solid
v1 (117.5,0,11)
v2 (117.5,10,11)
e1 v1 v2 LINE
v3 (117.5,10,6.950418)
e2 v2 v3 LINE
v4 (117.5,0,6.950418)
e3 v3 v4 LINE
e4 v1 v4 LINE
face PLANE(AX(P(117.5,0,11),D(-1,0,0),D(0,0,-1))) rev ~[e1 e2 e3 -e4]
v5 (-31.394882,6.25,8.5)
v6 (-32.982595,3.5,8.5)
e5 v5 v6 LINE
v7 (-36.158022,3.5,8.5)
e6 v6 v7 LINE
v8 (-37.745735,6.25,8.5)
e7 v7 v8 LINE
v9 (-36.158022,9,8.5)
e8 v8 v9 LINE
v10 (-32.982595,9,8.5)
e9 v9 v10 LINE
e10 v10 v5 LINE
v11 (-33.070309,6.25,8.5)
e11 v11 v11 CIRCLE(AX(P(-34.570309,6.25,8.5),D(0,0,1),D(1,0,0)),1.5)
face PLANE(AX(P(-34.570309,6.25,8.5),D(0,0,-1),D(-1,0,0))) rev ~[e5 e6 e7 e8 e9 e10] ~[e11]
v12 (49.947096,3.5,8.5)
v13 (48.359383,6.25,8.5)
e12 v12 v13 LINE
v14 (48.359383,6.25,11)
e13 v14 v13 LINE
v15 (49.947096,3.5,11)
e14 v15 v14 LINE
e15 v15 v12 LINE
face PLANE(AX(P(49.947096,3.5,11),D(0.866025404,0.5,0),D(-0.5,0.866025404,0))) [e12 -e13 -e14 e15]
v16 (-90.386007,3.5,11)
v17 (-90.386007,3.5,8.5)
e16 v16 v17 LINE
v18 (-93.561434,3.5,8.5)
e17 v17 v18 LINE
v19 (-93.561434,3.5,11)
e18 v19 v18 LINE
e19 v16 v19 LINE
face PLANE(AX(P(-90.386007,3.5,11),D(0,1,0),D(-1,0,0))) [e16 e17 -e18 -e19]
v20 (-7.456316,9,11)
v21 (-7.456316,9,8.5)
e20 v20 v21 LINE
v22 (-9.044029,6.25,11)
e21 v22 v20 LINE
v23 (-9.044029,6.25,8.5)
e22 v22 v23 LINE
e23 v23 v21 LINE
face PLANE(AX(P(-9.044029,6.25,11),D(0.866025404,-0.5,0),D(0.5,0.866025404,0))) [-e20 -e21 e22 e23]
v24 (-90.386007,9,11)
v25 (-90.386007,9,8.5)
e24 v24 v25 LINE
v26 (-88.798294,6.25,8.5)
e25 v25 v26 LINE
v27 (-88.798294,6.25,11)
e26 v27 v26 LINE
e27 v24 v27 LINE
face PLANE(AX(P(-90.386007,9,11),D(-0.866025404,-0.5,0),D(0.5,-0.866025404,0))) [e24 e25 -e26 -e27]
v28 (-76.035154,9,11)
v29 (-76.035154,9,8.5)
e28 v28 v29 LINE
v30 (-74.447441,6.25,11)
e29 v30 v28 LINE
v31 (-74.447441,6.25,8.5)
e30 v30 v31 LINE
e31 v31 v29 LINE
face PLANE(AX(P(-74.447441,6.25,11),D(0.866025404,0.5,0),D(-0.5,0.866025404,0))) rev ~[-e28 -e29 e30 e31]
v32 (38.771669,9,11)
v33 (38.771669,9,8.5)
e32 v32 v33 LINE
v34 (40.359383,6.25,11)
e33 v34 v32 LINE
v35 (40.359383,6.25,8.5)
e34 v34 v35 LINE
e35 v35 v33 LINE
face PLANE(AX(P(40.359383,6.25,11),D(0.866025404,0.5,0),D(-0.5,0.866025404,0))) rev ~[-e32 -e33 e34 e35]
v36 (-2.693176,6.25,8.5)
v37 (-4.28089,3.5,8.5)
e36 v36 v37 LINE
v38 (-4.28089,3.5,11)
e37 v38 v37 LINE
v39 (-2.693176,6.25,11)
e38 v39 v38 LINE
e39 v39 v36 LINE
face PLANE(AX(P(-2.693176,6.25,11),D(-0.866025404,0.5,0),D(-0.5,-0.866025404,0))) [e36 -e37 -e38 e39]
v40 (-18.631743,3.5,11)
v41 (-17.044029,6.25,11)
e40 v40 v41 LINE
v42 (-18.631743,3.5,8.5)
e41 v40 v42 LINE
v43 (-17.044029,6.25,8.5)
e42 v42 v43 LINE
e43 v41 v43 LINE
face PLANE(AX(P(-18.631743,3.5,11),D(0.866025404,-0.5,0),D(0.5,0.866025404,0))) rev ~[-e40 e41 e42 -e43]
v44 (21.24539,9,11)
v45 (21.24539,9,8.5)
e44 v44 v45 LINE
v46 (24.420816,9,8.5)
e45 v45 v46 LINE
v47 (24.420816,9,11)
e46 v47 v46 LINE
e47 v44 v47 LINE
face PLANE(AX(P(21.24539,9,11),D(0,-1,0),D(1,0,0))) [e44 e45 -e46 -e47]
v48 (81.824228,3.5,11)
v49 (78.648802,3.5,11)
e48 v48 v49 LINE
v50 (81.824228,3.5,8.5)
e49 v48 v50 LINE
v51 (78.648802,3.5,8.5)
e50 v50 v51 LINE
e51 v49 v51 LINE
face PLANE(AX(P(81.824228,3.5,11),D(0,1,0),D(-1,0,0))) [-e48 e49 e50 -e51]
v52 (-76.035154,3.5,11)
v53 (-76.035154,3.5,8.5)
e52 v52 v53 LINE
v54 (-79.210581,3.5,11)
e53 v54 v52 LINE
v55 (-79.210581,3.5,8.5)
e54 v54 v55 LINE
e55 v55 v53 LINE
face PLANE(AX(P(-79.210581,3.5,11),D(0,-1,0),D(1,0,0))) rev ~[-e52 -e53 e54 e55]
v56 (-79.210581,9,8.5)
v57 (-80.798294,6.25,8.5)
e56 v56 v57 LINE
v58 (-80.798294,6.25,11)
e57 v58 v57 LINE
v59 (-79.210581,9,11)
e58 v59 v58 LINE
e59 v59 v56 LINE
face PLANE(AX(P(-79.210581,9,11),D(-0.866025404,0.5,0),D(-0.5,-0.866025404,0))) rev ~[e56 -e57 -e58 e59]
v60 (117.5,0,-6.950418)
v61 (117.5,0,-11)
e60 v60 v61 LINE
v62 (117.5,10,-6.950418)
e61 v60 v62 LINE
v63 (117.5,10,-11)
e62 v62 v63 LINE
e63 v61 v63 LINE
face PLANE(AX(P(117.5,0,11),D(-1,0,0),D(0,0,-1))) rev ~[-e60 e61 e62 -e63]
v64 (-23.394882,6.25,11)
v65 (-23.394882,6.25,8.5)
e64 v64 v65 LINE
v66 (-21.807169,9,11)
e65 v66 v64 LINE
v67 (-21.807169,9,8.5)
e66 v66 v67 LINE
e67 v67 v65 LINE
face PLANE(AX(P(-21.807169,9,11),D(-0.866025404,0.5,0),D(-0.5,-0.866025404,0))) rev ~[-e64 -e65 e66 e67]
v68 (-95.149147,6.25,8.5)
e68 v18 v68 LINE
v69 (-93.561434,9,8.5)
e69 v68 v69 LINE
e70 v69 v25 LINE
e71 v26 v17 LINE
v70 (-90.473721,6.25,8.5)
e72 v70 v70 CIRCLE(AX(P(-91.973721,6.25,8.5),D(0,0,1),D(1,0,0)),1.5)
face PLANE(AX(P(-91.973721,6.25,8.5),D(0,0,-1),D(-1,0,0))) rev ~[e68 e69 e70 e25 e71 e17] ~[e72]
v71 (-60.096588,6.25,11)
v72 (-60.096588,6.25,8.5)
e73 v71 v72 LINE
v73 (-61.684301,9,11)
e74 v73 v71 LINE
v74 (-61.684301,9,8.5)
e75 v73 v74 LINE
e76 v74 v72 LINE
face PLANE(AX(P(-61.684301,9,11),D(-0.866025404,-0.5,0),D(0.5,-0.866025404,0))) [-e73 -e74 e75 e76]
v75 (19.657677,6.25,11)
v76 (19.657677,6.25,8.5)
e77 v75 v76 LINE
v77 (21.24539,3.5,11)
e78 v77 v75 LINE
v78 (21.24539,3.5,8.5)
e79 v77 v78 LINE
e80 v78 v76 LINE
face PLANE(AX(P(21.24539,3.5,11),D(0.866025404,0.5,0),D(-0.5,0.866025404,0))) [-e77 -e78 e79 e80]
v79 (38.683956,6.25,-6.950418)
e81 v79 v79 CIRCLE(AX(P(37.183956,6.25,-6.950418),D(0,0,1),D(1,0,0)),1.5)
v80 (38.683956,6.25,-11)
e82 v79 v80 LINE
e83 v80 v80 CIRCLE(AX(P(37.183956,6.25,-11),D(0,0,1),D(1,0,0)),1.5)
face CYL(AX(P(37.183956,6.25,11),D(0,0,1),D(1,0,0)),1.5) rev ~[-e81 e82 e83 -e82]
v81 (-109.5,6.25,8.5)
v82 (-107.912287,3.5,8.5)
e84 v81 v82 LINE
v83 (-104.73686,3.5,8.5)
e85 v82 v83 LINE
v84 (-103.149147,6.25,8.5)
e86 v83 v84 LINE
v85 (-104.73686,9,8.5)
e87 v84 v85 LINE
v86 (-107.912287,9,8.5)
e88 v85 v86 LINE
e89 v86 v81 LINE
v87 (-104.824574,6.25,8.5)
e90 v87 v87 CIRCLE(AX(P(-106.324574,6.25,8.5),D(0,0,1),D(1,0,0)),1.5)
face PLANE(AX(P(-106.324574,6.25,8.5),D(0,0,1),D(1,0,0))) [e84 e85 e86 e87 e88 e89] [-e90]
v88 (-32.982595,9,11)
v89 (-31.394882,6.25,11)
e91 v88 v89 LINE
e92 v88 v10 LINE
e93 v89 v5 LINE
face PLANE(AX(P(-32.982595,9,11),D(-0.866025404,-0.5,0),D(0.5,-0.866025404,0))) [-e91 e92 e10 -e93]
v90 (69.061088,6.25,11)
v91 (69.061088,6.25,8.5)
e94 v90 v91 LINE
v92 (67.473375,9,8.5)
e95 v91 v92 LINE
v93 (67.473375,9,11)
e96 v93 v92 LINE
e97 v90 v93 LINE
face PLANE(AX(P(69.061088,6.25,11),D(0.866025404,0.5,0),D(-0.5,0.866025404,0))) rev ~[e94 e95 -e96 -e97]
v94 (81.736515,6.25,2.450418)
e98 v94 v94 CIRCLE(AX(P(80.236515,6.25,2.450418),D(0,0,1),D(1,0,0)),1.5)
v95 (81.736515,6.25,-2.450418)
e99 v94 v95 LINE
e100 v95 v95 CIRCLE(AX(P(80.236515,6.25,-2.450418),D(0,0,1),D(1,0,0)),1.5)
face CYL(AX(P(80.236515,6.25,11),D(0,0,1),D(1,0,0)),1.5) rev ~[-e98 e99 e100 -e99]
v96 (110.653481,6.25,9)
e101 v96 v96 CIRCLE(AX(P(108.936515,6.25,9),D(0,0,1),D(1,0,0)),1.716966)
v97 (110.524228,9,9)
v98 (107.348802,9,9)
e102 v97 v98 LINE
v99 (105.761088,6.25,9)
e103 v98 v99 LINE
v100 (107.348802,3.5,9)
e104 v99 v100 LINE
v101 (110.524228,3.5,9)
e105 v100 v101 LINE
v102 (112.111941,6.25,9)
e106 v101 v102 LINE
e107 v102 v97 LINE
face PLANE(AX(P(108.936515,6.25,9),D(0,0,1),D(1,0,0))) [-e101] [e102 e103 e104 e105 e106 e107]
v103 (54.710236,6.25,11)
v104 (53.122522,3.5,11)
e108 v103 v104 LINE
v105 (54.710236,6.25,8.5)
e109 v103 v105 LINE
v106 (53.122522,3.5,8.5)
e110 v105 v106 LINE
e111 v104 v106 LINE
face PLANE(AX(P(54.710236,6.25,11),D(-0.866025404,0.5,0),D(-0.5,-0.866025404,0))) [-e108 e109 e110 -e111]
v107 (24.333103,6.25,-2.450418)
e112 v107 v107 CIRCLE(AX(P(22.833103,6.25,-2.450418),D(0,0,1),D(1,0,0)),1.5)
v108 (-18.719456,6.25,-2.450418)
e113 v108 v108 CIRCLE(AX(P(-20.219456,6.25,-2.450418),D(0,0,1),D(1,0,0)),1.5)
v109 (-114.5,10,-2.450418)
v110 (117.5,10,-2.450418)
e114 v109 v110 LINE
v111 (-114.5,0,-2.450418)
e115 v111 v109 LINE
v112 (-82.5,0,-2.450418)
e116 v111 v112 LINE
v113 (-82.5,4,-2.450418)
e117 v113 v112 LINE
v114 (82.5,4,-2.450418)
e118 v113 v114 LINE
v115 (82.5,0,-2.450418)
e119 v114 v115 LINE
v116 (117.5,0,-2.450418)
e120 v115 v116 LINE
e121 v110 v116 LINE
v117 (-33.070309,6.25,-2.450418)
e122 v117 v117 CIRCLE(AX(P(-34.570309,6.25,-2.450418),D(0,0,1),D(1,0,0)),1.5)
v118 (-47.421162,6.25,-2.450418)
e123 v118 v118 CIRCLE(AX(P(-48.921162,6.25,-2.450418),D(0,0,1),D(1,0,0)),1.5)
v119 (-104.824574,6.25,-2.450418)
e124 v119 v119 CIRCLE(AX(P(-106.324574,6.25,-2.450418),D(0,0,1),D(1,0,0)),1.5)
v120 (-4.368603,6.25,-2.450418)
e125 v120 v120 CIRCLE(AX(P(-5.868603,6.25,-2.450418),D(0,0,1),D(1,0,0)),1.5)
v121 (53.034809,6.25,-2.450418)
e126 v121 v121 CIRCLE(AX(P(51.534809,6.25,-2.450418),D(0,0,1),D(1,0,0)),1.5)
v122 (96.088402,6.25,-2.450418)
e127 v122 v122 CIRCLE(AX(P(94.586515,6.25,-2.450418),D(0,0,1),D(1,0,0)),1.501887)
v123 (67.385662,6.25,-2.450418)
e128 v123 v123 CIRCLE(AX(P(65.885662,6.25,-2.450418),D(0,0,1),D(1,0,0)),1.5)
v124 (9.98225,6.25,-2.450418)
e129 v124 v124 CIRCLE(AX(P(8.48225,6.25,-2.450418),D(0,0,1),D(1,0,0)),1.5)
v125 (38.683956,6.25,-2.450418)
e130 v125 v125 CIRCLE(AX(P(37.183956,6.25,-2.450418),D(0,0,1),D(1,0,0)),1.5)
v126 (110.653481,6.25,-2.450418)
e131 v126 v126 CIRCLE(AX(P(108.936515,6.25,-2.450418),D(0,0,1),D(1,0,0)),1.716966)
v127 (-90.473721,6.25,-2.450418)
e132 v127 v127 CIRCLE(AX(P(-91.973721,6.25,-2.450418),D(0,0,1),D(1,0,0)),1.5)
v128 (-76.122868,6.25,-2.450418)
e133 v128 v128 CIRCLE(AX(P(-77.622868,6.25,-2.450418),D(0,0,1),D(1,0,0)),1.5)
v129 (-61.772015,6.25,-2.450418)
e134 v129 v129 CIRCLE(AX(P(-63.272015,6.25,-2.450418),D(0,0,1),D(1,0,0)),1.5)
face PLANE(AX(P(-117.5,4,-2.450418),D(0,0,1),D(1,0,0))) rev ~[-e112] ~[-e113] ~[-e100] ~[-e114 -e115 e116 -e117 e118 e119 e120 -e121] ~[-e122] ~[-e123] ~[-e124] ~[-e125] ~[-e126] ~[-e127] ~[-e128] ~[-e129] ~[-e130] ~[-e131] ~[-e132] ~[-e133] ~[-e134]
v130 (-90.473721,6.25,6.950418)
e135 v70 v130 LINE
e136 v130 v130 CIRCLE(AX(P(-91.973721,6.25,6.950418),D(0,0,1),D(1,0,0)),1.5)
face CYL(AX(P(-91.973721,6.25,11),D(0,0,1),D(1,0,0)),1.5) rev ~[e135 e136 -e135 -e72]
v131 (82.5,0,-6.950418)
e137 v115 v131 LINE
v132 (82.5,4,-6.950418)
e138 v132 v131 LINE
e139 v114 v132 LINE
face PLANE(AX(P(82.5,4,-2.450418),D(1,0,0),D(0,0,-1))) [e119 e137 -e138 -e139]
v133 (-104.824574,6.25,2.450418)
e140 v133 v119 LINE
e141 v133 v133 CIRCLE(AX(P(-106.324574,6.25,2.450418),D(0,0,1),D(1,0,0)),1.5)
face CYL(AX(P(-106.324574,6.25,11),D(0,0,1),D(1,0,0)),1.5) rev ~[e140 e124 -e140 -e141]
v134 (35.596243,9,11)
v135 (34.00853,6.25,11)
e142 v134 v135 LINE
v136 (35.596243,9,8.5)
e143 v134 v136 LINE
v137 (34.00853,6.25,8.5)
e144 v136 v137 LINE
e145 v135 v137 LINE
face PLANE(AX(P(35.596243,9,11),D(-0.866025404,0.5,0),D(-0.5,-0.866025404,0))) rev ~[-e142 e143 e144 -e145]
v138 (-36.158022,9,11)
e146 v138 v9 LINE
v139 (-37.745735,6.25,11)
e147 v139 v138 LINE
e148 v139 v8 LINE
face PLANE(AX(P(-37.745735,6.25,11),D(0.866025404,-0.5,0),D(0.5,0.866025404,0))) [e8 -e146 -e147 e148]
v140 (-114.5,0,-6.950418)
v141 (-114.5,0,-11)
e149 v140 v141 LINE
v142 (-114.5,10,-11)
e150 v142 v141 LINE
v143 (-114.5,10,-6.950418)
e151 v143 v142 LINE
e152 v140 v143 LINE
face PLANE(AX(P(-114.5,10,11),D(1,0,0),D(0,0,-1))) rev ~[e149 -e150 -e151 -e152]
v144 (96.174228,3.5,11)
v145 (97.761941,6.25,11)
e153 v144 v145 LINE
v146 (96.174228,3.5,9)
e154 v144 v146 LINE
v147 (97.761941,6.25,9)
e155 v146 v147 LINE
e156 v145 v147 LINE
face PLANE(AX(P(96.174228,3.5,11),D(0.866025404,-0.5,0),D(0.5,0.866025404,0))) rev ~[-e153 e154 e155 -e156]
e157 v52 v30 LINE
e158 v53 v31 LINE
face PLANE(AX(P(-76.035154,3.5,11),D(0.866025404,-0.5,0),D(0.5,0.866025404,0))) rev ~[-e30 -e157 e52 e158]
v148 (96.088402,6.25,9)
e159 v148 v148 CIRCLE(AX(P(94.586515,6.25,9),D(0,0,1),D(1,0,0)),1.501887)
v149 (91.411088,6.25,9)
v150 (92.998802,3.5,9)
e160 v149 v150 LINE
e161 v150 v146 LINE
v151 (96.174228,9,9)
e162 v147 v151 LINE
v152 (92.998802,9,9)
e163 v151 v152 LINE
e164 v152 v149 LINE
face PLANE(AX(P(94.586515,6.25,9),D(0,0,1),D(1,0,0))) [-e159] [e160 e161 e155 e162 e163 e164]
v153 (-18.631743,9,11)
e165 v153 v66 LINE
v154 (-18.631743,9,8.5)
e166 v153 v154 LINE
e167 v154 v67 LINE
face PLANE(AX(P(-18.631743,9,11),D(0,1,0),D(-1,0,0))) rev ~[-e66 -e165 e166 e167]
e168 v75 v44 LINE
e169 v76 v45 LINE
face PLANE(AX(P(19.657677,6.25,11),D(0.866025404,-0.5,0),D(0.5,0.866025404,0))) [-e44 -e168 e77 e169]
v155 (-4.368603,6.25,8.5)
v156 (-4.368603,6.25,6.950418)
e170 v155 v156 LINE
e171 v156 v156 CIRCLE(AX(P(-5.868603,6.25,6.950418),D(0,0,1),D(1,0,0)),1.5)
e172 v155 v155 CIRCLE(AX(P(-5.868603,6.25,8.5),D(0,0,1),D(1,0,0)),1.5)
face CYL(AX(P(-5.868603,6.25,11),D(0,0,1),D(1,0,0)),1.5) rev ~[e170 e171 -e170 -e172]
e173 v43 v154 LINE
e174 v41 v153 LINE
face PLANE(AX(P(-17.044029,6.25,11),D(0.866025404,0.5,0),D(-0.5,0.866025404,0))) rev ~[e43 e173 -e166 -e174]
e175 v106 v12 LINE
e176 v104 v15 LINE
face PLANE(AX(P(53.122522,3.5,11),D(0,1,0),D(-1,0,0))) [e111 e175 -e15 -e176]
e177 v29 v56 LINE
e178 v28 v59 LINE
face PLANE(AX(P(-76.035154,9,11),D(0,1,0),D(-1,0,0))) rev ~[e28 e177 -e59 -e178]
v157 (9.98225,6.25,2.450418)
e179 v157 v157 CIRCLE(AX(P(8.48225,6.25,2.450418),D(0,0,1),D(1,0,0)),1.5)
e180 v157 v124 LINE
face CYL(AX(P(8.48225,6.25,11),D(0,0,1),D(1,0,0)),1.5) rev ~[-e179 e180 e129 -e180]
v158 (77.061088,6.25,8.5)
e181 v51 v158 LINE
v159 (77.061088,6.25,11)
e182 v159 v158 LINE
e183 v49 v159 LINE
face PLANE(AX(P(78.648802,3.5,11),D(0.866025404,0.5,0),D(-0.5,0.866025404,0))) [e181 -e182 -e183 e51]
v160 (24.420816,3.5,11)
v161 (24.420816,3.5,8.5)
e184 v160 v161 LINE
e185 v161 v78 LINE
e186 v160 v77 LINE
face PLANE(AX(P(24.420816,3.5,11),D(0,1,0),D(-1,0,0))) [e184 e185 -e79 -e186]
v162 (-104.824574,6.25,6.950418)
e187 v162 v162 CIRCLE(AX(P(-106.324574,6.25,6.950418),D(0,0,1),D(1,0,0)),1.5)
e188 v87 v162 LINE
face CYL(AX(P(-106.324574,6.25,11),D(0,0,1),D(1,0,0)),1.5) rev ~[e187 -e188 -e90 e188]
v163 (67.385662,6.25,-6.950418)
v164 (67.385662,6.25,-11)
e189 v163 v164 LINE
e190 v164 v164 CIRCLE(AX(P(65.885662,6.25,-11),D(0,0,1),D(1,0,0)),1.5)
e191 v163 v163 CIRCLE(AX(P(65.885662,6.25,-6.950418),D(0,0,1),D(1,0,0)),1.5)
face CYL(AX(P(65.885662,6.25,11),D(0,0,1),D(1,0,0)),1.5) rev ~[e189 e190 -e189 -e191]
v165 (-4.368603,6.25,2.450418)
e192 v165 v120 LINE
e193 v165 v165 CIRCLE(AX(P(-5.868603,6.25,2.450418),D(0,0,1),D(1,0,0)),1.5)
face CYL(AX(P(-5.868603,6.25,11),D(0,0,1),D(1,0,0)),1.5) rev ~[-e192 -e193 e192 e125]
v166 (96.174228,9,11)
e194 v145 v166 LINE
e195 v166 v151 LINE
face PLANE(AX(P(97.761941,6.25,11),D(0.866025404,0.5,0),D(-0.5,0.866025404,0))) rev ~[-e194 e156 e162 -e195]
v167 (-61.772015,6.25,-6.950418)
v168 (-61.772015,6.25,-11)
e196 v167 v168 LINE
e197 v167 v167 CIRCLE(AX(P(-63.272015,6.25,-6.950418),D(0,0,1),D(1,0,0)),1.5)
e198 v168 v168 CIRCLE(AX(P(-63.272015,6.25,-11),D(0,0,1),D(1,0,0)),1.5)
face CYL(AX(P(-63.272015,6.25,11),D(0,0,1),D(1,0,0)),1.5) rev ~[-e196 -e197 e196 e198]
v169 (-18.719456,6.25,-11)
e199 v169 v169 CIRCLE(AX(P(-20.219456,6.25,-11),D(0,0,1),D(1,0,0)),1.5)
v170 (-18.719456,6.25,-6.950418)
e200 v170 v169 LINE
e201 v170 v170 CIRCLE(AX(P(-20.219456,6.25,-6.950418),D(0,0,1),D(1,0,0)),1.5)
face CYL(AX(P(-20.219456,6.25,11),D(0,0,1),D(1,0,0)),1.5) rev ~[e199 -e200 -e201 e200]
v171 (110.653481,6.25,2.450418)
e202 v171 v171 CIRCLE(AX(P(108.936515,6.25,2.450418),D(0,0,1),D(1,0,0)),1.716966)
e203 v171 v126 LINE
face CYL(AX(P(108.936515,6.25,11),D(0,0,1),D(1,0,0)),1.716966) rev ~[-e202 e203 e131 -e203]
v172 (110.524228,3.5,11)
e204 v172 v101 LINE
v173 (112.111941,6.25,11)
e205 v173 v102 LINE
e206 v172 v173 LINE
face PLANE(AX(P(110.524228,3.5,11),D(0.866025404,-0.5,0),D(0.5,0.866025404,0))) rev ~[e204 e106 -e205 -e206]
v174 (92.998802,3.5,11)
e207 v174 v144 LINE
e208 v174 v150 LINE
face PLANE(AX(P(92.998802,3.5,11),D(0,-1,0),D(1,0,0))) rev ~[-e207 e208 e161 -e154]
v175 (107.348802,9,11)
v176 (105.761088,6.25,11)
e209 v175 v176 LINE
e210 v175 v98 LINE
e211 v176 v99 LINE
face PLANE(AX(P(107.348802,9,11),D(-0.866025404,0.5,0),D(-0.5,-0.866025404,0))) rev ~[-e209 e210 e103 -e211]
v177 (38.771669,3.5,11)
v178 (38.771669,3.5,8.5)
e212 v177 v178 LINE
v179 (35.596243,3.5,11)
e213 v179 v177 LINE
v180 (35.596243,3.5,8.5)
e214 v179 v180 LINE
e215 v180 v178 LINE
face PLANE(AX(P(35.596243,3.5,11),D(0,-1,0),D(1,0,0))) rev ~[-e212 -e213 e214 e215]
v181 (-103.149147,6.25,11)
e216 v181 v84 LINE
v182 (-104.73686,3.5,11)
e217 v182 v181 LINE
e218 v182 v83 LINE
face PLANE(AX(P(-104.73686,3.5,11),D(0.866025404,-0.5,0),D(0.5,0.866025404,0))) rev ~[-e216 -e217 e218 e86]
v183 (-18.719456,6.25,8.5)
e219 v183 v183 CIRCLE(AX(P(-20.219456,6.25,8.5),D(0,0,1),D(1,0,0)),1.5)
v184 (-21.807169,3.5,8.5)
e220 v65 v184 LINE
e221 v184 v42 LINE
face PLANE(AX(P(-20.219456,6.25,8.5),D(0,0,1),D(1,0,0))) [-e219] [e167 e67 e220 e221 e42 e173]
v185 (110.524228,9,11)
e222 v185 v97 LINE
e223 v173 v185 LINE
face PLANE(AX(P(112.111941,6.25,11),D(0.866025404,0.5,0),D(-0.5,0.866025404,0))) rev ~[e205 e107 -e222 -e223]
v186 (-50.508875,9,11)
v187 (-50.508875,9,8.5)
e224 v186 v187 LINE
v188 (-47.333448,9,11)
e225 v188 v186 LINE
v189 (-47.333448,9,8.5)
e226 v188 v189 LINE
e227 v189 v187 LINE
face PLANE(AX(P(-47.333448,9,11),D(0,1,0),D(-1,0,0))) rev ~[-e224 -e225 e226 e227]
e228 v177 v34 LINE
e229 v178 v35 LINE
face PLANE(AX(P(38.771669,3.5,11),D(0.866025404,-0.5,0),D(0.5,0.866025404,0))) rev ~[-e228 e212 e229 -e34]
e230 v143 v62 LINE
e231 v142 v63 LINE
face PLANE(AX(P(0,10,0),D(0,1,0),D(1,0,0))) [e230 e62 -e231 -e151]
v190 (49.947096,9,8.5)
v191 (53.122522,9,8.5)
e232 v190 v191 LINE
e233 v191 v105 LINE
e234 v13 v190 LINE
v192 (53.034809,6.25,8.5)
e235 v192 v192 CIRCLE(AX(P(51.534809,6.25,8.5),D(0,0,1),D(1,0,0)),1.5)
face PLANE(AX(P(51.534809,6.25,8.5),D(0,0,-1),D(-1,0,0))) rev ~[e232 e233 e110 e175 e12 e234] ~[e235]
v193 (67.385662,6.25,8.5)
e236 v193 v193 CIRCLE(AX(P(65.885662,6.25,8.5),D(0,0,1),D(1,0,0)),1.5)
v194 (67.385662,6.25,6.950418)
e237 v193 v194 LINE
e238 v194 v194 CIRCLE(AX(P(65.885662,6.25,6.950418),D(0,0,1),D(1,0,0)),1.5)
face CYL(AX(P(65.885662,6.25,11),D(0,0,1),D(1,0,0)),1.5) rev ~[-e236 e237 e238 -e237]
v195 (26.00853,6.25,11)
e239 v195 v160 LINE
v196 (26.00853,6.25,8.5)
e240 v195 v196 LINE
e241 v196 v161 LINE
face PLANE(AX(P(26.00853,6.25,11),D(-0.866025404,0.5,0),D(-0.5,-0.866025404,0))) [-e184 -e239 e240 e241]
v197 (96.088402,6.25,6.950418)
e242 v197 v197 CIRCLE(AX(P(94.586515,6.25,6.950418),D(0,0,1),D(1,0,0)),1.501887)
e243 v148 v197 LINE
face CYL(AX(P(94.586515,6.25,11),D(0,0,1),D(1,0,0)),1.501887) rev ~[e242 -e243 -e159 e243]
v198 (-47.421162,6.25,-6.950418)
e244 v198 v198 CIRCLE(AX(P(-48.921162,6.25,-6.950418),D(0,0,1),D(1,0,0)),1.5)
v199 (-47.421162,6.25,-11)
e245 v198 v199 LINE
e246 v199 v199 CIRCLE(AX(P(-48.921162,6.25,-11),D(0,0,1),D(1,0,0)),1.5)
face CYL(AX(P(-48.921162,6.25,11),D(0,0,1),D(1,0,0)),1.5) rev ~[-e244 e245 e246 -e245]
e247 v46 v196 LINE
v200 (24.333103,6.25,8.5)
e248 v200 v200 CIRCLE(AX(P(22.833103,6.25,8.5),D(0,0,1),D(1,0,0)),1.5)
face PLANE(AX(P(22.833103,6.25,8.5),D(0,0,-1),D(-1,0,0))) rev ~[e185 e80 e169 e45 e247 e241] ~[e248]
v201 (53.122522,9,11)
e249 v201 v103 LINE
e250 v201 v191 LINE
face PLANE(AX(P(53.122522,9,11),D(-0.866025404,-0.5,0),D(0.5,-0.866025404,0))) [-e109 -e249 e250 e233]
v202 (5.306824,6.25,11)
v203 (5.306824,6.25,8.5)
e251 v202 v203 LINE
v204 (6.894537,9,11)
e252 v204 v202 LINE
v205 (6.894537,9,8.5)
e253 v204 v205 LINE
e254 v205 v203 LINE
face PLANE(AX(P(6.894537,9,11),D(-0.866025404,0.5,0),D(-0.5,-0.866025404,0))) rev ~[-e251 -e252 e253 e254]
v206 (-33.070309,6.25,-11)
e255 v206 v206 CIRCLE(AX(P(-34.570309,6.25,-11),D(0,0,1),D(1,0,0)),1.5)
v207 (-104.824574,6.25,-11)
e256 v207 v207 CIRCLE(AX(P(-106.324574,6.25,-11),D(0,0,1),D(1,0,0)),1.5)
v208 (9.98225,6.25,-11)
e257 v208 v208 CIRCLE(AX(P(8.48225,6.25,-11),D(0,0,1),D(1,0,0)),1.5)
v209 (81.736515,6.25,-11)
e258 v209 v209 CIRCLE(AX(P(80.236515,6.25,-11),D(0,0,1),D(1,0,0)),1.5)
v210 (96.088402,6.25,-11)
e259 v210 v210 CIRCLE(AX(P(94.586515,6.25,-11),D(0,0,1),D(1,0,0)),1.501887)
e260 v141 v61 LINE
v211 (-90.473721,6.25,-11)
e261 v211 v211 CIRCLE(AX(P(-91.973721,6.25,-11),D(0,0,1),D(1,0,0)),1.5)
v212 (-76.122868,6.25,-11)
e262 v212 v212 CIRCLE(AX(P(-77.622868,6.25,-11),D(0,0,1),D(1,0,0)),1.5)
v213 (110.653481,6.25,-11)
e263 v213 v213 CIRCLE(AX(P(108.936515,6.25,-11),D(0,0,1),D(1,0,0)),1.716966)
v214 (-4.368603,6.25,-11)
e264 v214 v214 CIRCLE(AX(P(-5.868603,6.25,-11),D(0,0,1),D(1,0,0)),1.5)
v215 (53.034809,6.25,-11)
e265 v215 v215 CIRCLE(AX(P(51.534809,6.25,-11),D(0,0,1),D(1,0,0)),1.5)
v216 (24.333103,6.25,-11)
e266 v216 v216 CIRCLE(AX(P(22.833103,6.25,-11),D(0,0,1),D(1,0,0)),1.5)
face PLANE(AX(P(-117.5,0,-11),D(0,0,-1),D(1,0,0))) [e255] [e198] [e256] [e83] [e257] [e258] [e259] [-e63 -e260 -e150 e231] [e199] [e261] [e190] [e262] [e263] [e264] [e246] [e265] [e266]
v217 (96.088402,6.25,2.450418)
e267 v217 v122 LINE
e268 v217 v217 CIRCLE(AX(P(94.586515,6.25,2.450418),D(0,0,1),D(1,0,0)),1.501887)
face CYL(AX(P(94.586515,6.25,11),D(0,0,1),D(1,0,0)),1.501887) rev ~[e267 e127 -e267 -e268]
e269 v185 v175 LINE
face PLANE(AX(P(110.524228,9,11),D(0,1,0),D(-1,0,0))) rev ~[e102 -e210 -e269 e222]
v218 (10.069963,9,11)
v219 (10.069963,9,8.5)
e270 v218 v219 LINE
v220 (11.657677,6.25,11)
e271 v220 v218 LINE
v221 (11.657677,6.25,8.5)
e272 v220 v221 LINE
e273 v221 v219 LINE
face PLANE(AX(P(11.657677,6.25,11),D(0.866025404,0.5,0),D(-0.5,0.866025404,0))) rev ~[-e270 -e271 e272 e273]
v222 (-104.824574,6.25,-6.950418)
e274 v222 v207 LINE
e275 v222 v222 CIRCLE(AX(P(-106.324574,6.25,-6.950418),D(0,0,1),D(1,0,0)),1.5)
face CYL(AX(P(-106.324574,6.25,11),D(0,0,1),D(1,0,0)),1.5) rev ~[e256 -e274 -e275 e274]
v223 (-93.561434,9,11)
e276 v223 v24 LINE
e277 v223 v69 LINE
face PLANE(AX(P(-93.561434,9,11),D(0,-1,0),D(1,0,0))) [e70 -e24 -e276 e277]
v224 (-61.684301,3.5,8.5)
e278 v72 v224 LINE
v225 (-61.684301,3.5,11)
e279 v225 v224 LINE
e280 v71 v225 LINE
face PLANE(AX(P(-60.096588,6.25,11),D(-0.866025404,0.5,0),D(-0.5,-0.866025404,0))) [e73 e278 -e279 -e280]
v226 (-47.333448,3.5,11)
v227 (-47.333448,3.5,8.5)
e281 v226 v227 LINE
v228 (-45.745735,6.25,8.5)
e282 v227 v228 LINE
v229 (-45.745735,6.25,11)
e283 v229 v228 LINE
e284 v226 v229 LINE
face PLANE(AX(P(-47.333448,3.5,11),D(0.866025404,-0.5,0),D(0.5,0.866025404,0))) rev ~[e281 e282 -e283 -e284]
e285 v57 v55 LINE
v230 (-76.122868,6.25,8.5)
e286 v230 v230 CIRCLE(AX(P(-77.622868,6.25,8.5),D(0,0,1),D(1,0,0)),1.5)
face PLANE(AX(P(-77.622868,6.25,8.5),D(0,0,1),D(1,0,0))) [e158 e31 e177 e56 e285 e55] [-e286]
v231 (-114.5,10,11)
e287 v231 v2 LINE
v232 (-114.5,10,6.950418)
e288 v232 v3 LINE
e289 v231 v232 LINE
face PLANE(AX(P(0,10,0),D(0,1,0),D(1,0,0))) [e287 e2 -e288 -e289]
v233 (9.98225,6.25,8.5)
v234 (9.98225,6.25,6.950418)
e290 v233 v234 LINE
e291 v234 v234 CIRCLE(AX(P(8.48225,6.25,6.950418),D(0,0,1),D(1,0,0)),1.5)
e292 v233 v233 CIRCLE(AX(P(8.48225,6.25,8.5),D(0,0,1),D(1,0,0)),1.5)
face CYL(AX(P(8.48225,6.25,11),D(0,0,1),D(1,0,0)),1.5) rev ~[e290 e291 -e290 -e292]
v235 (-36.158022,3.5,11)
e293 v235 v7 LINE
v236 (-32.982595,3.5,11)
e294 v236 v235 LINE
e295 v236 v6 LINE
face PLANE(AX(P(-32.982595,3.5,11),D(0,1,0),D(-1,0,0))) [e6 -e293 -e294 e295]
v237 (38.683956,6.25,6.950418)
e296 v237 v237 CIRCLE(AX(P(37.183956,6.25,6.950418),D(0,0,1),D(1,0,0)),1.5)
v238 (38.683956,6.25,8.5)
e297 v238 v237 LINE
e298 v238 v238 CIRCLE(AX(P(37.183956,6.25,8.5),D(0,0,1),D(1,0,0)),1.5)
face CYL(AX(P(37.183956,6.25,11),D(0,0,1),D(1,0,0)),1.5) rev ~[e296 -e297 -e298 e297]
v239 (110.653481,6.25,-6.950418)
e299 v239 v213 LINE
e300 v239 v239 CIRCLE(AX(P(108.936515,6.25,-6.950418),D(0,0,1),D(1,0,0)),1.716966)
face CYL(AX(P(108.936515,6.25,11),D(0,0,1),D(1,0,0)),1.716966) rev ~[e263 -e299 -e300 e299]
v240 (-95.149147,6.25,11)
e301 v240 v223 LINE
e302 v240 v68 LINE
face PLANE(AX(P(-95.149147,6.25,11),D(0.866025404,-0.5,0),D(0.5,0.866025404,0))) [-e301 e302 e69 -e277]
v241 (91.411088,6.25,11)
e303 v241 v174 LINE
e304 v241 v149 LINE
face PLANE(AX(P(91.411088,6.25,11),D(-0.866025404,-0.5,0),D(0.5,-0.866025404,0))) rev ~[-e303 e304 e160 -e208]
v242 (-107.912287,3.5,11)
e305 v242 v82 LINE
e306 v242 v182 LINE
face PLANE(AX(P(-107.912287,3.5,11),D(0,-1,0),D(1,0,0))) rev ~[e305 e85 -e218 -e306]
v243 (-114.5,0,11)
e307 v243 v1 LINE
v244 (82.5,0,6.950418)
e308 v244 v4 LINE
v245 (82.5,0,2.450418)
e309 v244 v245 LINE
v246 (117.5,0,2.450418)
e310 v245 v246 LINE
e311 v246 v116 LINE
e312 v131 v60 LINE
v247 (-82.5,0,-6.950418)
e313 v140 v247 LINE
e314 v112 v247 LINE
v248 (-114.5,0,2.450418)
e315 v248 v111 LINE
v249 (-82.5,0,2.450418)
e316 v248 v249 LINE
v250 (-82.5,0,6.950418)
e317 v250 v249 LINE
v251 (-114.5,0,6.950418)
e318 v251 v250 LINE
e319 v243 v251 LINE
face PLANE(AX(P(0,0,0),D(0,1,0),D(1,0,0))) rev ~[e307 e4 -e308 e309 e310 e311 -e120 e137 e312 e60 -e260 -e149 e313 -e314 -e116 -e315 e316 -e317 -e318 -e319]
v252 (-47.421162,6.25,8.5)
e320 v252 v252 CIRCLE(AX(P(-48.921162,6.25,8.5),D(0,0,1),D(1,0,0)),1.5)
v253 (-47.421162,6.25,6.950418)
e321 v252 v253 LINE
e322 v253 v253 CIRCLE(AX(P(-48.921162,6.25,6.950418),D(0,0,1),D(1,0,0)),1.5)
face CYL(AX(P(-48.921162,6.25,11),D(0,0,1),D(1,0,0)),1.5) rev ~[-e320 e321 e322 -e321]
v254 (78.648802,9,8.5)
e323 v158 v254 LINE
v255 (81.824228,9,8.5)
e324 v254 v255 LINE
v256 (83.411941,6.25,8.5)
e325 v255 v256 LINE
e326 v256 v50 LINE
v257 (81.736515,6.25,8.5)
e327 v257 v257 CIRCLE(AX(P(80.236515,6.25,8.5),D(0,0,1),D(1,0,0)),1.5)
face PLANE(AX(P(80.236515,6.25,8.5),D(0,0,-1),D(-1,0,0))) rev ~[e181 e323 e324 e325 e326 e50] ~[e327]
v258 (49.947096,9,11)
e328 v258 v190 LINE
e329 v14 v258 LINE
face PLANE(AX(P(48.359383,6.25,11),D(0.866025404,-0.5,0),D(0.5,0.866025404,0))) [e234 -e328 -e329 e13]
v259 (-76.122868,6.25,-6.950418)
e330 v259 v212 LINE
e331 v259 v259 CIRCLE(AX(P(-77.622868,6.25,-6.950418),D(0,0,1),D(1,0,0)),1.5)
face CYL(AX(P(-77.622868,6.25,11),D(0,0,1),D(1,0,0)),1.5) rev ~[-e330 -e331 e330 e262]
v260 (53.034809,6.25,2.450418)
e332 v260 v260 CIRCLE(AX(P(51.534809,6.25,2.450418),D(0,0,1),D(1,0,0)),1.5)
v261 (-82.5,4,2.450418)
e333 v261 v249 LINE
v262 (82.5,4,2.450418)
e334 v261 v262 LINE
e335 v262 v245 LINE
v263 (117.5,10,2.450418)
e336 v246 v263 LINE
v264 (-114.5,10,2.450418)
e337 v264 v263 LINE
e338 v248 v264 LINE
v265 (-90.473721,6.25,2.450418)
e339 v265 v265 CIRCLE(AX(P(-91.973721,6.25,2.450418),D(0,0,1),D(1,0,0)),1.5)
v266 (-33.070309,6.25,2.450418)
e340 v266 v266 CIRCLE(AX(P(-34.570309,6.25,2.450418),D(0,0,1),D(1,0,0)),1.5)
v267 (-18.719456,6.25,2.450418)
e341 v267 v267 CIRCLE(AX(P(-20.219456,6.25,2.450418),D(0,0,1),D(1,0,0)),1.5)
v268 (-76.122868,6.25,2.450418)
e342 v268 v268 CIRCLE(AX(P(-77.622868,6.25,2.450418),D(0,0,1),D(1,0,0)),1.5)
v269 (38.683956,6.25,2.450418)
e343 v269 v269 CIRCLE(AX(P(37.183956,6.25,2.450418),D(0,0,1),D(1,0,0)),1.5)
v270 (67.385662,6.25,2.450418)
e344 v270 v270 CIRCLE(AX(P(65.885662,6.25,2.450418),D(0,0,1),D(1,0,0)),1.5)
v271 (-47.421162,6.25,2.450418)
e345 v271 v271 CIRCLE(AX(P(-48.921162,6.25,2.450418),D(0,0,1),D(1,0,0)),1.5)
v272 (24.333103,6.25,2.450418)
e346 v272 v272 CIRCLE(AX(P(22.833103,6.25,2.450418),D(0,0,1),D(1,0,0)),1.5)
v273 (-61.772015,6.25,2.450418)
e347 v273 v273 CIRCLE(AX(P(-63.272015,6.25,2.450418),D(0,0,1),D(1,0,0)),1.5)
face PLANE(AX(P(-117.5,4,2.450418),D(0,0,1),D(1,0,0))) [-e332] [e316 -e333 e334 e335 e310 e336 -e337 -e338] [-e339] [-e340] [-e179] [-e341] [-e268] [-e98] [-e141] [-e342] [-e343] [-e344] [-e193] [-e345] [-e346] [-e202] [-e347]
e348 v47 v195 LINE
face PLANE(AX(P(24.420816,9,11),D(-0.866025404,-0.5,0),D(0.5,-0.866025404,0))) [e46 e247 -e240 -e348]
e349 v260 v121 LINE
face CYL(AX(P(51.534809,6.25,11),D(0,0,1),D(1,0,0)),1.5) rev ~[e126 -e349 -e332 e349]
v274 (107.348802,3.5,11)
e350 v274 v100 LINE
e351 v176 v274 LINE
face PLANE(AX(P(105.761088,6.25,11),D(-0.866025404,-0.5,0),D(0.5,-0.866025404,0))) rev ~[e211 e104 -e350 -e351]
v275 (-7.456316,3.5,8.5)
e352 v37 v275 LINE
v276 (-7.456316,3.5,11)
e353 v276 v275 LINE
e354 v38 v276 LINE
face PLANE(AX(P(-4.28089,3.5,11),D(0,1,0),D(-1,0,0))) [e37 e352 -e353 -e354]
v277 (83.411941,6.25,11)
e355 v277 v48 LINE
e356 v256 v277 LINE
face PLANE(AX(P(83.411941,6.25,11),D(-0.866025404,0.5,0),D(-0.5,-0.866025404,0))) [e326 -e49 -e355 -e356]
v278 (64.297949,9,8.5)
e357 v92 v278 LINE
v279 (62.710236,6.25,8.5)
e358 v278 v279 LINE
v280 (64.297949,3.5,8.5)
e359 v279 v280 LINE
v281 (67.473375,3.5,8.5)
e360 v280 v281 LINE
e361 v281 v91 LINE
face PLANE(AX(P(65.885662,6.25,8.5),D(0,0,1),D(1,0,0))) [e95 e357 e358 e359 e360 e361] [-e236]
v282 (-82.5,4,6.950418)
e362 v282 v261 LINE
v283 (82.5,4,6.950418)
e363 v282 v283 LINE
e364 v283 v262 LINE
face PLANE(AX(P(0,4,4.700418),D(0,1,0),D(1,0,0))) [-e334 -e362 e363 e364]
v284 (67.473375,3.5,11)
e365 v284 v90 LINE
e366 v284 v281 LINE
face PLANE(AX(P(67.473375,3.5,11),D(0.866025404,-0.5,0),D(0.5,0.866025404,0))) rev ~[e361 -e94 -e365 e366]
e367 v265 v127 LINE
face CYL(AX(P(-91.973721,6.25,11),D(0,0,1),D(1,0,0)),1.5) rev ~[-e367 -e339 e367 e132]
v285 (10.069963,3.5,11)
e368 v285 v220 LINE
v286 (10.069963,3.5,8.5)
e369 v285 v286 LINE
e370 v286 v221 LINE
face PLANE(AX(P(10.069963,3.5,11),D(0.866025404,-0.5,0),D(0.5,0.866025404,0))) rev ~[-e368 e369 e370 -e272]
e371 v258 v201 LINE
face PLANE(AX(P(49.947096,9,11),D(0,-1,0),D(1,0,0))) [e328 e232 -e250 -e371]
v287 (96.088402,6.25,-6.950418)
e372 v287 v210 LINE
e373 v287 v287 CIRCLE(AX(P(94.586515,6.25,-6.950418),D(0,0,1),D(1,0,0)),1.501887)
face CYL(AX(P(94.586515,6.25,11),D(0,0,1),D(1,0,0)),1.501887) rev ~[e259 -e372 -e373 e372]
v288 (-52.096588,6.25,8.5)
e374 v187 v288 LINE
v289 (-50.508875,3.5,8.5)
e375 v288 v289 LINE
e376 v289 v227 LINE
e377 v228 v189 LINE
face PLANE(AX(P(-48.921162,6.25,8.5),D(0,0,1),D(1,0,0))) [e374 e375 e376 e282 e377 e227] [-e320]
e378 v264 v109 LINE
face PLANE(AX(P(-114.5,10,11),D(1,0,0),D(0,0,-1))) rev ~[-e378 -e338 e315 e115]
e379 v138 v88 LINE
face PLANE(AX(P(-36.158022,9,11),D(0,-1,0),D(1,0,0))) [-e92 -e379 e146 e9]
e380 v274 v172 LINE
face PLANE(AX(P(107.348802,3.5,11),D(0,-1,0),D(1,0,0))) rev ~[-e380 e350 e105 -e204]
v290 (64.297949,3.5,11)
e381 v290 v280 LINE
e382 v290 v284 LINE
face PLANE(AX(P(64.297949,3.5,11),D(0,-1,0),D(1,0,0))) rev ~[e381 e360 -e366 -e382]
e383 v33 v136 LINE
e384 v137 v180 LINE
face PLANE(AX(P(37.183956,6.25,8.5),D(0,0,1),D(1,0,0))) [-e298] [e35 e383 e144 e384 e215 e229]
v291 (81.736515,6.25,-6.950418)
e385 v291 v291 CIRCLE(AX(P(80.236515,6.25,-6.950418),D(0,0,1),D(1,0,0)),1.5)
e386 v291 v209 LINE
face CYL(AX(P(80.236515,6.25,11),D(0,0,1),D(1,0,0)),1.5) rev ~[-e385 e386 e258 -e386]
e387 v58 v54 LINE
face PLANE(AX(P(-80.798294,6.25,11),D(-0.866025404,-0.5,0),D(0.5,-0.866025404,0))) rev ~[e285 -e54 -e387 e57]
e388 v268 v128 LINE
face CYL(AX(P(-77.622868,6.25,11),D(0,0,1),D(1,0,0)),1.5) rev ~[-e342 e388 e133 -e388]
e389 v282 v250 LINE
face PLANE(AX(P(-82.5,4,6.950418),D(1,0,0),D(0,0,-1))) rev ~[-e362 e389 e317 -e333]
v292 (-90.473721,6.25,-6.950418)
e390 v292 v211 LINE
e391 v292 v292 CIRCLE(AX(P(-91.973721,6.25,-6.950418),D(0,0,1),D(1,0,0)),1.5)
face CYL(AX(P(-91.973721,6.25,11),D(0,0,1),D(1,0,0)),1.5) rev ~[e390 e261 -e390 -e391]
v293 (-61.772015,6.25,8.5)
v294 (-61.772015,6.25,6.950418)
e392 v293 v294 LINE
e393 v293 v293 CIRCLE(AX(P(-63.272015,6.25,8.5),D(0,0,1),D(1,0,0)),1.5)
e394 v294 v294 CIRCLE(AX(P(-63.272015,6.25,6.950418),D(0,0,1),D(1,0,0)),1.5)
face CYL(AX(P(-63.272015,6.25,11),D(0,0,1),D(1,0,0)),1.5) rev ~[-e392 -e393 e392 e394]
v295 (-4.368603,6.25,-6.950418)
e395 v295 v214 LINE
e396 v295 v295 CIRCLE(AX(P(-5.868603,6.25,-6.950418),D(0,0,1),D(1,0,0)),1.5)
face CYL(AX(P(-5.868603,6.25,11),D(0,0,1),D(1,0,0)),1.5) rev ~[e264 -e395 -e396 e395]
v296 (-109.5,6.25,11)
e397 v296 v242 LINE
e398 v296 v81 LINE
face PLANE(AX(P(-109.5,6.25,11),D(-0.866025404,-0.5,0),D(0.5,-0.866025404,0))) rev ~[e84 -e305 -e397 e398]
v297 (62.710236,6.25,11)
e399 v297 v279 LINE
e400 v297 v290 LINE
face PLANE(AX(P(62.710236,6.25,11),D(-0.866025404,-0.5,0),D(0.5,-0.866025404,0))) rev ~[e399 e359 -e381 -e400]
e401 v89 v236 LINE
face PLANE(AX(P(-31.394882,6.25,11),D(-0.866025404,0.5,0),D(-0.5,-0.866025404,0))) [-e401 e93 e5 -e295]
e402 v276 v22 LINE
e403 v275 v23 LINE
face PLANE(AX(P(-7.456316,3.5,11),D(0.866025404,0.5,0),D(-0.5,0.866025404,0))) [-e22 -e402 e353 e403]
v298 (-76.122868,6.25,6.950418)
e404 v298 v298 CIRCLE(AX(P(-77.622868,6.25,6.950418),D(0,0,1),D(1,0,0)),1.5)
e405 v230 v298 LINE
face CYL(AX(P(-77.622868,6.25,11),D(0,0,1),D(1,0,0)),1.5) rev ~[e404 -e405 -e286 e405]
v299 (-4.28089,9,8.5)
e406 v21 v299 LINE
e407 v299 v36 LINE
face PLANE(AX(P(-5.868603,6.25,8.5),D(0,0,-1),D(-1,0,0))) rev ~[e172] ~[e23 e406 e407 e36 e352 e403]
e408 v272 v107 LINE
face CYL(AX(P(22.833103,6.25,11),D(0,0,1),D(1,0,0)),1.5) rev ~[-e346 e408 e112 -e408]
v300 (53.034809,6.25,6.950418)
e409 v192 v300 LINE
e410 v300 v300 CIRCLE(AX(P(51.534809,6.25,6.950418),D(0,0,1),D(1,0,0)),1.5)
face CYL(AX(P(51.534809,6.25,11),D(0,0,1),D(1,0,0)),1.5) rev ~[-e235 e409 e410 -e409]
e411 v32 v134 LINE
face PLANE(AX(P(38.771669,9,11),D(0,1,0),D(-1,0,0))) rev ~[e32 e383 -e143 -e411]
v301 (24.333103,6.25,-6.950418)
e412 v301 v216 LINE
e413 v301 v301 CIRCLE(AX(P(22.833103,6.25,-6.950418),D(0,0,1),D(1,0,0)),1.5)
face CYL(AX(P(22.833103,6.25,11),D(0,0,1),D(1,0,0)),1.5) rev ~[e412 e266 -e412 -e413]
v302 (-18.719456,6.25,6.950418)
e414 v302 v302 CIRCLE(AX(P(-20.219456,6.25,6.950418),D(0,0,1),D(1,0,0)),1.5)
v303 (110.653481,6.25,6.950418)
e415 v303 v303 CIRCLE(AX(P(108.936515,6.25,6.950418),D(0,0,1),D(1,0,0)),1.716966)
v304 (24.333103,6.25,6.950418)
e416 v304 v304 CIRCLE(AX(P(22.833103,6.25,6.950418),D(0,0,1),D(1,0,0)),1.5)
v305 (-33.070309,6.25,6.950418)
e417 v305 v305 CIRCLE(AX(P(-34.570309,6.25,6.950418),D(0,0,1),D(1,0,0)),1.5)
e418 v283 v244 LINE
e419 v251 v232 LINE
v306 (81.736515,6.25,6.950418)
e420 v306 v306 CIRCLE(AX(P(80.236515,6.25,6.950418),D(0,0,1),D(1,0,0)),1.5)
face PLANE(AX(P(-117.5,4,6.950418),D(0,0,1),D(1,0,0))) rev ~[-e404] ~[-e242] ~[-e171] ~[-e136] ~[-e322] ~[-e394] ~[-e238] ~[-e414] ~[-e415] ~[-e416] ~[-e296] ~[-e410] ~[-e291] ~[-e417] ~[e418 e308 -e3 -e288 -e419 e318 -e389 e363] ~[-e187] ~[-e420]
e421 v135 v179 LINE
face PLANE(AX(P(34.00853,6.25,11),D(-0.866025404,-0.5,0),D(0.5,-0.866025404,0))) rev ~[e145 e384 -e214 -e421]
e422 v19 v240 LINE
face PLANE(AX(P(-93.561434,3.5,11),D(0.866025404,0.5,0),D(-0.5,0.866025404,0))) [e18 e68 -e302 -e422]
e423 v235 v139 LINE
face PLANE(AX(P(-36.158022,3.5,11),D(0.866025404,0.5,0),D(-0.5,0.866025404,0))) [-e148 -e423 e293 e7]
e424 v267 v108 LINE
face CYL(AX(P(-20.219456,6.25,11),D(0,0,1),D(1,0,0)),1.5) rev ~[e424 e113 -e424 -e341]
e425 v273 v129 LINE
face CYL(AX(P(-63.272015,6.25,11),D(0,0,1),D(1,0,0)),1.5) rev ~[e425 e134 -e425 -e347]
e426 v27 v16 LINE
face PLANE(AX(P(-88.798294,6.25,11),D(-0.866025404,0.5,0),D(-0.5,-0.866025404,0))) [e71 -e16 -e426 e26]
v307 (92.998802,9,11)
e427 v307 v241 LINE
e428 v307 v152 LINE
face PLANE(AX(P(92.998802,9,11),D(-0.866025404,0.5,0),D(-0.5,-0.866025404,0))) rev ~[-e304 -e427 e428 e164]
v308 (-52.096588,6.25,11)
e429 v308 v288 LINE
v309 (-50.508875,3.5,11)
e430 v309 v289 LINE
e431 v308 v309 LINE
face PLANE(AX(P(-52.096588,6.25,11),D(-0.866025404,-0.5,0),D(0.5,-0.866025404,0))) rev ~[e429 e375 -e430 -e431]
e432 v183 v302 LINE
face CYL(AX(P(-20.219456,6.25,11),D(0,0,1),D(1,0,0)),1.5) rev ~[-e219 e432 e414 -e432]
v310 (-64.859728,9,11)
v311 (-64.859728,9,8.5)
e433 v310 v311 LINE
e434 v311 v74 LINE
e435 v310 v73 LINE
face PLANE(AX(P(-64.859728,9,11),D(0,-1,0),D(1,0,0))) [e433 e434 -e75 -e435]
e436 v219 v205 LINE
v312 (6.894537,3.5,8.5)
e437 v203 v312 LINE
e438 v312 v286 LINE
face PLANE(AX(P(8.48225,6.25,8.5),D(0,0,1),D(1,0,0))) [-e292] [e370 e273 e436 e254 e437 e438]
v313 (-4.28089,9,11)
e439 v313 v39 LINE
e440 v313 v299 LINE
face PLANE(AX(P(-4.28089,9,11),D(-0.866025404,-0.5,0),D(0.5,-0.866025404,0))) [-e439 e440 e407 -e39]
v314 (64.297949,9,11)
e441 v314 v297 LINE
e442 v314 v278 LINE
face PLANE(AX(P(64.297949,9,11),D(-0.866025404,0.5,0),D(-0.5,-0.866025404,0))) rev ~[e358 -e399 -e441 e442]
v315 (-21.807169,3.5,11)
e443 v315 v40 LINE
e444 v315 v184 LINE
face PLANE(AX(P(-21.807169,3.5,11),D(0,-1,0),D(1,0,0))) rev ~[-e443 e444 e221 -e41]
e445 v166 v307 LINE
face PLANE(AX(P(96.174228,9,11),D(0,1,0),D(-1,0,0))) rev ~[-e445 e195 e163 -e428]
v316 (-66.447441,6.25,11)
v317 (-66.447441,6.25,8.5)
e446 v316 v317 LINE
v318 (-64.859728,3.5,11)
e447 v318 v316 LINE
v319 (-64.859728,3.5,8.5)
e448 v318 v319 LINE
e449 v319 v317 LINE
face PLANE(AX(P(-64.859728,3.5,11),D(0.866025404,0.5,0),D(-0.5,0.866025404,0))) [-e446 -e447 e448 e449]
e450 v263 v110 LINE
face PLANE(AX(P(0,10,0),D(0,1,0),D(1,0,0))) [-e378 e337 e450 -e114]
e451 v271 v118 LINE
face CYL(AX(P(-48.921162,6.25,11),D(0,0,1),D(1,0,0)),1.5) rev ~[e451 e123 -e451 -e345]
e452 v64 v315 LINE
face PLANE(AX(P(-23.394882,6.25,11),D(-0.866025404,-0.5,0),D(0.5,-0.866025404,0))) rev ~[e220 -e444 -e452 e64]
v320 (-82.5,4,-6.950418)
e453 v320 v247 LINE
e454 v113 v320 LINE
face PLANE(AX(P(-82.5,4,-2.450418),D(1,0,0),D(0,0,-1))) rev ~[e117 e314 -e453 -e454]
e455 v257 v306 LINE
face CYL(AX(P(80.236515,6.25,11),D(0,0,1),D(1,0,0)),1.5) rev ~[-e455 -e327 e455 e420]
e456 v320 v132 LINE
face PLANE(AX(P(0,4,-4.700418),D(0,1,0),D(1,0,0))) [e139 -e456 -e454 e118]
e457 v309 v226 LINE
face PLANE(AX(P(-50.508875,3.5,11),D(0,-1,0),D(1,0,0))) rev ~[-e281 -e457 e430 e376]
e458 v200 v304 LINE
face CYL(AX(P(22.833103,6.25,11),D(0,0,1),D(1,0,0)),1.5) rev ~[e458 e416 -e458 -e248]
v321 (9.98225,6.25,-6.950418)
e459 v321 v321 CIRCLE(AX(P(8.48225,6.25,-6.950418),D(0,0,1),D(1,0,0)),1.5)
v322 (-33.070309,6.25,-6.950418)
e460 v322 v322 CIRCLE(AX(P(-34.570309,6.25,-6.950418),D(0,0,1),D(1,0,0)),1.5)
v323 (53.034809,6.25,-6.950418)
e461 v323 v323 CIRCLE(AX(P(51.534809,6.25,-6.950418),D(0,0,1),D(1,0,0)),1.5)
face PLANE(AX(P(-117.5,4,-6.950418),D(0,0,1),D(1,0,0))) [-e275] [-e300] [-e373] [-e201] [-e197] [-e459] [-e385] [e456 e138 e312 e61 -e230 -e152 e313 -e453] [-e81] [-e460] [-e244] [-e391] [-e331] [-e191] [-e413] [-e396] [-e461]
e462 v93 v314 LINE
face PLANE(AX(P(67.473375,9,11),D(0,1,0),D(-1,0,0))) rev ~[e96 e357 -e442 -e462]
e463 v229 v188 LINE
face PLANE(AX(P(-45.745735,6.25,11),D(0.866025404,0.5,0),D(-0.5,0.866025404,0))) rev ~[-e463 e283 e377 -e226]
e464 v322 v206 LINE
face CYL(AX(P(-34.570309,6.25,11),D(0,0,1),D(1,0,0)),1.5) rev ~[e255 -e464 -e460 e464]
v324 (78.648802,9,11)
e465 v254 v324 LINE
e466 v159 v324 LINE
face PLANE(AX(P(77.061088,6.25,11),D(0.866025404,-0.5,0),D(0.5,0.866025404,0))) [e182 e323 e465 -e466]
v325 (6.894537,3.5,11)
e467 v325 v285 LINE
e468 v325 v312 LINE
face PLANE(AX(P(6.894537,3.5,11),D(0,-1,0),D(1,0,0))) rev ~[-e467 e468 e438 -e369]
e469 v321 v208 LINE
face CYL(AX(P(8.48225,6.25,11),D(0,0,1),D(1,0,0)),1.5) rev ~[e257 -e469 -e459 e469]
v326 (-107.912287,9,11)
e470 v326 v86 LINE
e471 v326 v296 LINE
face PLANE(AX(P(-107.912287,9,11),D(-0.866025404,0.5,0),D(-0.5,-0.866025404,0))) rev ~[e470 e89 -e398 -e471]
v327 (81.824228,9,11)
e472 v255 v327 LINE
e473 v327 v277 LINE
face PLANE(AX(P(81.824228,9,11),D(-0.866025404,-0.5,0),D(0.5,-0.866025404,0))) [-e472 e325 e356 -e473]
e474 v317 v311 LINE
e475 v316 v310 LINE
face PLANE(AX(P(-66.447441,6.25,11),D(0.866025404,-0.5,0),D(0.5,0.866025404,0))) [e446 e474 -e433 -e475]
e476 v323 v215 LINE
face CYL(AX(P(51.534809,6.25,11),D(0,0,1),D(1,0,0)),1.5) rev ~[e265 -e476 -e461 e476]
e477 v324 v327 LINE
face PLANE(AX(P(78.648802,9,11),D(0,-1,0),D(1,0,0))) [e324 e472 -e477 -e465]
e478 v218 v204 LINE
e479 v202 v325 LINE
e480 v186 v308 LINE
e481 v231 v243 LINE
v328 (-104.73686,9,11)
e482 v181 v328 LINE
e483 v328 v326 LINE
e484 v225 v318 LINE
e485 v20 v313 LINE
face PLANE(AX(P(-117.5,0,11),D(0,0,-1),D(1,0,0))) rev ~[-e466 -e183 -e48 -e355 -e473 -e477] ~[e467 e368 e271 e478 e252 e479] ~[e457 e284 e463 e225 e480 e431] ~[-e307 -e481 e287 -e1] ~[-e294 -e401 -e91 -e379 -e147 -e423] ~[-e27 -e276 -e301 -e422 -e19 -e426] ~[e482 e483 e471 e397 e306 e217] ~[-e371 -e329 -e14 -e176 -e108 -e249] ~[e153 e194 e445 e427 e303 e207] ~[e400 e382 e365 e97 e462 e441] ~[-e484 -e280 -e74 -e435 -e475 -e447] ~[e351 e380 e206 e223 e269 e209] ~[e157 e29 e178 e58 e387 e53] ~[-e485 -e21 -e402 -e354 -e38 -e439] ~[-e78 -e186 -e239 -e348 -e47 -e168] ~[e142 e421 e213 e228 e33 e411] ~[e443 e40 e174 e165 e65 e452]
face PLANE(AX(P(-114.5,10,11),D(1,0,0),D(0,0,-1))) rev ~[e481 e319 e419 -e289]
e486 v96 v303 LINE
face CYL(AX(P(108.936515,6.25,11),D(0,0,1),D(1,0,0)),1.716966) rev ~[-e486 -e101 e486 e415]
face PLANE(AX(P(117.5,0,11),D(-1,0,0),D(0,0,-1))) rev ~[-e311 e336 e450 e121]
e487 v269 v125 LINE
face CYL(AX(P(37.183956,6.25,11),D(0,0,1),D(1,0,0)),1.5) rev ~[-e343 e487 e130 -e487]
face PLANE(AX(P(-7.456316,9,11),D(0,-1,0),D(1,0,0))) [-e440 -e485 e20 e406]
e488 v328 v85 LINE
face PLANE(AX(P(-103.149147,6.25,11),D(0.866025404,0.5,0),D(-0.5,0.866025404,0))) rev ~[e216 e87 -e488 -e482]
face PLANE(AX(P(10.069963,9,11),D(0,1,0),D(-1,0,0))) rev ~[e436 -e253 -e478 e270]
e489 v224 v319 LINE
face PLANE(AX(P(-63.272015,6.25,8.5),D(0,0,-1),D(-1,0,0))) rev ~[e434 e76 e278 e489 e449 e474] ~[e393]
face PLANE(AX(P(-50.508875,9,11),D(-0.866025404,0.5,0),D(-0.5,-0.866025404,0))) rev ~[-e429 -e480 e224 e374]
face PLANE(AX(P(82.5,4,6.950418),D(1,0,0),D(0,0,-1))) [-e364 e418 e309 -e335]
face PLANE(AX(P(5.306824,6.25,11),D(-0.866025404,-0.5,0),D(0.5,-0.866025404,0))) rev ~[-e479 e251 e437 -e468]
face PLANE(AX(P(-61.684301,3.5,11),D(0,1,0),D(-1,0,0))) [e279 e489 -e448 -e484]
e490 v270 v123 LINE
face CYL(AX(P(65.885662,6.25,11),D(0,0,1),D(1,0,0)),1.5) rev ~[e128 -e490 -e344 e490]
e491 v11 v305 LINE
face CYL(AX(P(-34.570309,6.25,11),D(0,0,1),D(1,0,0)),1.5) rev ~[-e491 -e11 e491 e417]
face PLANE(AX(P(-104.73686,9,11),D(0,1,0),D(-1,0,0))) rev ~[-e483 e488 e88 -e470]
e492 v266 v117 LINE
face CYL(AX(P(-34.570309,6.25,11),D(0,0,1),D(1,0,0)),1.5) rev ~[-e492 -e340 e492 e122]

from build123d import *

# Parameters (mm, degrees)
SKETCH1_W           = 235
SKETCH1_H           = 22
BOSS_EXTRUDE1_DEPTH = 10
SKETCH2_W           = 235
SKETCH2_H           = 4.5
CUT_EXTRUDE1_DEPTH  = 6
CUT_EXTRUDE3_DEPTH  = 2.5
SKETCH9_R           = 1.5
CUT_EXTRUDE4_DEPTH  = 23
SKETCH_3_R          = 1.5
SKETCH_3_R_2        = 1.50188727
SKETCH_3_R_3        = 1.716965945
CUT_EXTRUDE_1_DEPTH = 23
CUT_EXTRUDE_2_DEPTH = 2
SKETCH_6_W          = 35
SKETCH_6_H          = 4.5
CUT_EXTRUDE_3_DEPTH = 5
SKETCH_9_W          = 3
SKETCH_9_H          = 22
CUT_EXTRUDE_4_DEPTH = 11


with BuildPart() as part:
    # Sketch1 → Boss-Extrude1 (new body)
    with BuildSketch(Plane(origin=(0, 0, 0), x_dir=(1, 0, 0), z_dir=(0, 1, 0))):
        Rectangle(SKETCH1_W, SKETCH1_H)
    extrude(amount=BOSS_EXTRUDE1_DEPTH)

    # Sketch2 → Cut-Extrude1 (cut)
    with BuildSketch(Plane(origin=(0, 10, 0), x_dir=(1, 0, 0), z_dir=(0, 1, 0))):
        with Locations((0, -4.700418011)):
            Rectangle(SKETCH2_W, SKETCH2_H)
        with Locations((0, 4.700418011)):
            Rectangle(SKETCH2_W, SKETCH2_H)
    extrude(amount=-CUT_EXTRUDE1_DEPTH, mode=Mode.SUBTRACT)

    # Sketch3 → Cut-Extrude3 (cut)
    with BuildSketch(Plane.XY.offset(11)):
        Polygon((-103.149147039, 6.25), (-104.736860279, 9), (-107.91228676, 9), (-109.5, 6.25), (-107.91228676, 3.5), (-104.736860279, 3.5), align=None)
        Polygon((-95.149147039, 6.25), (-93.561433799, 9), (-90.386007318, 9), (-88.798294078, 6.25), (-90.386007318, 3.5), (-93.561433799, 3.5), align=None)
        Polygon((-76.035154357, 9), (-79.210580838, 9), (-80.798294078, 6.25), (-79.210580838, 3.5), (-76.035154357, 3.5), (-74.447441117, 6.25), align=None)
        Polygon((-64.859727876, 3.5), (-66.447441117, 6.25), (-64.859727876, 9), (-61.684301396, 9), (-60.096588156, 6.25), (-61.684301396, 3.5), align=None)
        Polygon((-47.333448435, 9), (-50.508874915, 9), (-52.096588156, 6.25), (-50.508874915, 3.5), (-47.333448435, 3.5), (-45.745735195, 6.25), align=None)
        Polygon((-36.158021954, 3.5), (-37.745735195, 6.25), (-36.158021954, 9), (-32.982595474, 9), (-31.394882233, 6.25), (-32.982595474, 3.5), align=None)
        Polygon((-17.044029272, 6.25), (-18.631742513, 9), (-21.807168993, 9), (-23.394882233, 6.25), (-21.807168993, 3.5), (-18.631742513, 3.5), align=None)
        Polygon((-9.044029272, 6.25), (-7.456316032, 9), (-4.280889552, 9), (-2.693176311, 6.25), (-4.280889552, 3.5), (-7.456316032, 3.5), align=None)
        Polygon((10.06996341, 9), (6.894536929, 9), (5.306823689, 6.25), (6.894536929, 3.5), (10.06996341, 3.5), (11.65767665, 6.25), align=None)
        Polygon((21.24538989, 3.5), (19.65767665, 6.25), (21.24538989, 9), (24.420816371, 9), (26.008529611, 6.25), (24.420816371, 3.5), align=None)
        Polygon((38.771669332, 9), (35.596242851, 9), (34.008529611, 6.25), (35.596242851, 3.5), (38.771669332, 3.5), (40.359382572, 6.25), align=None)
        Polygon((49.947095812, 3.5), (48.359382572, 6.25), (49.947095812, 9), (53.122522293, 9), (54.710235533, 6.25), (53.122522293, 3.5), align=None)
        Polygon((69.061088494, 6.25), (67.473375254, 9), (64.297948773, 9), (62.710235533, 6.25), (64.297948773, 3.5), (67.473375254, 3.5), align=None)
        Polygon((77.061088494, 6.25), (78.648801734, 9), (81.824228215, 9), (83.411941455, 6.25), (81.824228215, 3.5), (78.648801734, 3.5), align=None)
    extrude(amount=-CUT_EXTRUDE3_DEPTH, mode=Mode.SUBTRACT)

    # Sketch9 → Cut-Extrude4 (cut, through all)
    with BuildSketch(Plane.XY.offset(11)):
        with Locations((-106.324573519, 6.25)):
            Circle(SKETCH9_R)
        with Locations((-91.973720558, 6.25)):
            Circle(SKETCH9_R)
        with Locations((-77.622867597, 6.25)):
            Circle(SKETCH9_R)
        with Locations((-63.272014636, 6.25)):
            Circle(SKETCH9_R)
        with Locations((-48.921161675, 6.25)):
            Circle(SKETCH9_R)
        with Locations((-34.570308714, 6.25)):
            Circle(SKETCH9_R)
        with Locations((-20.219455753, 6.25)):
            Circle(SKETCH9_R)
        with Locations((-5.868602792, 6.25)):
            Circle(SKETCH9_R)
        with Locations((8.482250169, 6.25)):
            Circle(SKETCH9_R)
        with Locations((22.83310313, 6.25)):
            Circle(SKETCH9_R)
        with Locations((37.183956091, 6.25)):
            Circle(SKETCH9_R)
        with Locations((51.534809052, 6.25)):
            Circle(SKETCH9_R)
        with Locations((65.885662014, 6.25)):
            Circle(SKETCH9_R)
        with Locations((80.236514975, 6.25)):
            Circle(SKETCH9_R)
    extrude(amount=-CUT_EXTRUDE4_DEPTH, mode=Mode.SUBTRACT)

    # 草图3 → 切除-拉伸1 (cut, through all)
    with BuildSketch(Plane.XY.offset(11)):
        with Locations((80.236514975, 6.25)):
            Circle(SKETCH_3_R)
        with Locations((94.586514975, 6.25)):
            Circle(SKETCH_3_R_2)
        with Locations((108.936514975, 6.25)):
            Circle(SKETCH_3_R_3)
        with Locations((65.885662014, 6.25)):
            Circle(SKETCH_3_R)
    extrude(amount=-CUT_EXTRUDE_1_DEPTH, mode=Mode.SUBTRACT)

    # 草图4 → 切除-拉伸2 (cut)
    with BuildSketch(Plane.XY.offset(11)):
        Polygon((81.824228215, 3.5), (83.411941455, 6.25), (81.824228215, 9), (78.648801734, 9), (77.061088494, 6.25), (78.648801734, 3.5), align=None)
        Polygon((97.761941455, 6.25), (96.174228215, 9), (92.998801734, 9), (91.411088494, 6.25), (92.998801734, 3.5), (96.174228215, 3.5), align=None)
        Polygon((112.111941455, 6.25), (110.524228215, 9), (107.348801734, 9), (105.761088494, 6.25), (107.348801734, 3.5), (110.524228215, 3.5), align=None)
    extrude(amount=-CUT_EXTRUDE_2_DEPTH, mode=Mode.SUBTRACT)

    # 草图6 → 切除-拉伸3 (cut, through all)
    with BuildSketch(Plane(origin=(0, 4, 0), x_dir=(1, 0, 0), z_dir=(0, 1, 0))):
        with Locations((100, -4.700418011)):
            Rectangle(SKETCH_6_W, SKETCH_6_H)
        with Locations((100, 4.700418011)):
            Rectangle(SKETCH_6_W, SKETCH_6_H)
        with Locations((-100, -4.700418011)):
            Rectangle(SKETCH_6_W, SKETCH_6_H)
        with Locations((-100, 4.700418011)):
            Rectangle(SKETCH_6_W, SKETCH_6_H)
    extrude(amount=-CUT_EXTRUDE_3_DEPTH, mode=Mode.SUBTRACT)

    # 草图9 → 切除-拉伸4 (cut, through all)
    with BuildSketch(Plane(origin=(0, 10, 0), x_dir=(1, 0, 0), z_dir=(0, 1, 0))):
        with Locations((-116, 0)):
            Rectangle(SKETCH_9_W, SKETCH_9_H)
    extrude(amount=-CUT_EXTRUDE_4_DEPTH, mode=Mode.SUBTRACT)


solid = part.part
